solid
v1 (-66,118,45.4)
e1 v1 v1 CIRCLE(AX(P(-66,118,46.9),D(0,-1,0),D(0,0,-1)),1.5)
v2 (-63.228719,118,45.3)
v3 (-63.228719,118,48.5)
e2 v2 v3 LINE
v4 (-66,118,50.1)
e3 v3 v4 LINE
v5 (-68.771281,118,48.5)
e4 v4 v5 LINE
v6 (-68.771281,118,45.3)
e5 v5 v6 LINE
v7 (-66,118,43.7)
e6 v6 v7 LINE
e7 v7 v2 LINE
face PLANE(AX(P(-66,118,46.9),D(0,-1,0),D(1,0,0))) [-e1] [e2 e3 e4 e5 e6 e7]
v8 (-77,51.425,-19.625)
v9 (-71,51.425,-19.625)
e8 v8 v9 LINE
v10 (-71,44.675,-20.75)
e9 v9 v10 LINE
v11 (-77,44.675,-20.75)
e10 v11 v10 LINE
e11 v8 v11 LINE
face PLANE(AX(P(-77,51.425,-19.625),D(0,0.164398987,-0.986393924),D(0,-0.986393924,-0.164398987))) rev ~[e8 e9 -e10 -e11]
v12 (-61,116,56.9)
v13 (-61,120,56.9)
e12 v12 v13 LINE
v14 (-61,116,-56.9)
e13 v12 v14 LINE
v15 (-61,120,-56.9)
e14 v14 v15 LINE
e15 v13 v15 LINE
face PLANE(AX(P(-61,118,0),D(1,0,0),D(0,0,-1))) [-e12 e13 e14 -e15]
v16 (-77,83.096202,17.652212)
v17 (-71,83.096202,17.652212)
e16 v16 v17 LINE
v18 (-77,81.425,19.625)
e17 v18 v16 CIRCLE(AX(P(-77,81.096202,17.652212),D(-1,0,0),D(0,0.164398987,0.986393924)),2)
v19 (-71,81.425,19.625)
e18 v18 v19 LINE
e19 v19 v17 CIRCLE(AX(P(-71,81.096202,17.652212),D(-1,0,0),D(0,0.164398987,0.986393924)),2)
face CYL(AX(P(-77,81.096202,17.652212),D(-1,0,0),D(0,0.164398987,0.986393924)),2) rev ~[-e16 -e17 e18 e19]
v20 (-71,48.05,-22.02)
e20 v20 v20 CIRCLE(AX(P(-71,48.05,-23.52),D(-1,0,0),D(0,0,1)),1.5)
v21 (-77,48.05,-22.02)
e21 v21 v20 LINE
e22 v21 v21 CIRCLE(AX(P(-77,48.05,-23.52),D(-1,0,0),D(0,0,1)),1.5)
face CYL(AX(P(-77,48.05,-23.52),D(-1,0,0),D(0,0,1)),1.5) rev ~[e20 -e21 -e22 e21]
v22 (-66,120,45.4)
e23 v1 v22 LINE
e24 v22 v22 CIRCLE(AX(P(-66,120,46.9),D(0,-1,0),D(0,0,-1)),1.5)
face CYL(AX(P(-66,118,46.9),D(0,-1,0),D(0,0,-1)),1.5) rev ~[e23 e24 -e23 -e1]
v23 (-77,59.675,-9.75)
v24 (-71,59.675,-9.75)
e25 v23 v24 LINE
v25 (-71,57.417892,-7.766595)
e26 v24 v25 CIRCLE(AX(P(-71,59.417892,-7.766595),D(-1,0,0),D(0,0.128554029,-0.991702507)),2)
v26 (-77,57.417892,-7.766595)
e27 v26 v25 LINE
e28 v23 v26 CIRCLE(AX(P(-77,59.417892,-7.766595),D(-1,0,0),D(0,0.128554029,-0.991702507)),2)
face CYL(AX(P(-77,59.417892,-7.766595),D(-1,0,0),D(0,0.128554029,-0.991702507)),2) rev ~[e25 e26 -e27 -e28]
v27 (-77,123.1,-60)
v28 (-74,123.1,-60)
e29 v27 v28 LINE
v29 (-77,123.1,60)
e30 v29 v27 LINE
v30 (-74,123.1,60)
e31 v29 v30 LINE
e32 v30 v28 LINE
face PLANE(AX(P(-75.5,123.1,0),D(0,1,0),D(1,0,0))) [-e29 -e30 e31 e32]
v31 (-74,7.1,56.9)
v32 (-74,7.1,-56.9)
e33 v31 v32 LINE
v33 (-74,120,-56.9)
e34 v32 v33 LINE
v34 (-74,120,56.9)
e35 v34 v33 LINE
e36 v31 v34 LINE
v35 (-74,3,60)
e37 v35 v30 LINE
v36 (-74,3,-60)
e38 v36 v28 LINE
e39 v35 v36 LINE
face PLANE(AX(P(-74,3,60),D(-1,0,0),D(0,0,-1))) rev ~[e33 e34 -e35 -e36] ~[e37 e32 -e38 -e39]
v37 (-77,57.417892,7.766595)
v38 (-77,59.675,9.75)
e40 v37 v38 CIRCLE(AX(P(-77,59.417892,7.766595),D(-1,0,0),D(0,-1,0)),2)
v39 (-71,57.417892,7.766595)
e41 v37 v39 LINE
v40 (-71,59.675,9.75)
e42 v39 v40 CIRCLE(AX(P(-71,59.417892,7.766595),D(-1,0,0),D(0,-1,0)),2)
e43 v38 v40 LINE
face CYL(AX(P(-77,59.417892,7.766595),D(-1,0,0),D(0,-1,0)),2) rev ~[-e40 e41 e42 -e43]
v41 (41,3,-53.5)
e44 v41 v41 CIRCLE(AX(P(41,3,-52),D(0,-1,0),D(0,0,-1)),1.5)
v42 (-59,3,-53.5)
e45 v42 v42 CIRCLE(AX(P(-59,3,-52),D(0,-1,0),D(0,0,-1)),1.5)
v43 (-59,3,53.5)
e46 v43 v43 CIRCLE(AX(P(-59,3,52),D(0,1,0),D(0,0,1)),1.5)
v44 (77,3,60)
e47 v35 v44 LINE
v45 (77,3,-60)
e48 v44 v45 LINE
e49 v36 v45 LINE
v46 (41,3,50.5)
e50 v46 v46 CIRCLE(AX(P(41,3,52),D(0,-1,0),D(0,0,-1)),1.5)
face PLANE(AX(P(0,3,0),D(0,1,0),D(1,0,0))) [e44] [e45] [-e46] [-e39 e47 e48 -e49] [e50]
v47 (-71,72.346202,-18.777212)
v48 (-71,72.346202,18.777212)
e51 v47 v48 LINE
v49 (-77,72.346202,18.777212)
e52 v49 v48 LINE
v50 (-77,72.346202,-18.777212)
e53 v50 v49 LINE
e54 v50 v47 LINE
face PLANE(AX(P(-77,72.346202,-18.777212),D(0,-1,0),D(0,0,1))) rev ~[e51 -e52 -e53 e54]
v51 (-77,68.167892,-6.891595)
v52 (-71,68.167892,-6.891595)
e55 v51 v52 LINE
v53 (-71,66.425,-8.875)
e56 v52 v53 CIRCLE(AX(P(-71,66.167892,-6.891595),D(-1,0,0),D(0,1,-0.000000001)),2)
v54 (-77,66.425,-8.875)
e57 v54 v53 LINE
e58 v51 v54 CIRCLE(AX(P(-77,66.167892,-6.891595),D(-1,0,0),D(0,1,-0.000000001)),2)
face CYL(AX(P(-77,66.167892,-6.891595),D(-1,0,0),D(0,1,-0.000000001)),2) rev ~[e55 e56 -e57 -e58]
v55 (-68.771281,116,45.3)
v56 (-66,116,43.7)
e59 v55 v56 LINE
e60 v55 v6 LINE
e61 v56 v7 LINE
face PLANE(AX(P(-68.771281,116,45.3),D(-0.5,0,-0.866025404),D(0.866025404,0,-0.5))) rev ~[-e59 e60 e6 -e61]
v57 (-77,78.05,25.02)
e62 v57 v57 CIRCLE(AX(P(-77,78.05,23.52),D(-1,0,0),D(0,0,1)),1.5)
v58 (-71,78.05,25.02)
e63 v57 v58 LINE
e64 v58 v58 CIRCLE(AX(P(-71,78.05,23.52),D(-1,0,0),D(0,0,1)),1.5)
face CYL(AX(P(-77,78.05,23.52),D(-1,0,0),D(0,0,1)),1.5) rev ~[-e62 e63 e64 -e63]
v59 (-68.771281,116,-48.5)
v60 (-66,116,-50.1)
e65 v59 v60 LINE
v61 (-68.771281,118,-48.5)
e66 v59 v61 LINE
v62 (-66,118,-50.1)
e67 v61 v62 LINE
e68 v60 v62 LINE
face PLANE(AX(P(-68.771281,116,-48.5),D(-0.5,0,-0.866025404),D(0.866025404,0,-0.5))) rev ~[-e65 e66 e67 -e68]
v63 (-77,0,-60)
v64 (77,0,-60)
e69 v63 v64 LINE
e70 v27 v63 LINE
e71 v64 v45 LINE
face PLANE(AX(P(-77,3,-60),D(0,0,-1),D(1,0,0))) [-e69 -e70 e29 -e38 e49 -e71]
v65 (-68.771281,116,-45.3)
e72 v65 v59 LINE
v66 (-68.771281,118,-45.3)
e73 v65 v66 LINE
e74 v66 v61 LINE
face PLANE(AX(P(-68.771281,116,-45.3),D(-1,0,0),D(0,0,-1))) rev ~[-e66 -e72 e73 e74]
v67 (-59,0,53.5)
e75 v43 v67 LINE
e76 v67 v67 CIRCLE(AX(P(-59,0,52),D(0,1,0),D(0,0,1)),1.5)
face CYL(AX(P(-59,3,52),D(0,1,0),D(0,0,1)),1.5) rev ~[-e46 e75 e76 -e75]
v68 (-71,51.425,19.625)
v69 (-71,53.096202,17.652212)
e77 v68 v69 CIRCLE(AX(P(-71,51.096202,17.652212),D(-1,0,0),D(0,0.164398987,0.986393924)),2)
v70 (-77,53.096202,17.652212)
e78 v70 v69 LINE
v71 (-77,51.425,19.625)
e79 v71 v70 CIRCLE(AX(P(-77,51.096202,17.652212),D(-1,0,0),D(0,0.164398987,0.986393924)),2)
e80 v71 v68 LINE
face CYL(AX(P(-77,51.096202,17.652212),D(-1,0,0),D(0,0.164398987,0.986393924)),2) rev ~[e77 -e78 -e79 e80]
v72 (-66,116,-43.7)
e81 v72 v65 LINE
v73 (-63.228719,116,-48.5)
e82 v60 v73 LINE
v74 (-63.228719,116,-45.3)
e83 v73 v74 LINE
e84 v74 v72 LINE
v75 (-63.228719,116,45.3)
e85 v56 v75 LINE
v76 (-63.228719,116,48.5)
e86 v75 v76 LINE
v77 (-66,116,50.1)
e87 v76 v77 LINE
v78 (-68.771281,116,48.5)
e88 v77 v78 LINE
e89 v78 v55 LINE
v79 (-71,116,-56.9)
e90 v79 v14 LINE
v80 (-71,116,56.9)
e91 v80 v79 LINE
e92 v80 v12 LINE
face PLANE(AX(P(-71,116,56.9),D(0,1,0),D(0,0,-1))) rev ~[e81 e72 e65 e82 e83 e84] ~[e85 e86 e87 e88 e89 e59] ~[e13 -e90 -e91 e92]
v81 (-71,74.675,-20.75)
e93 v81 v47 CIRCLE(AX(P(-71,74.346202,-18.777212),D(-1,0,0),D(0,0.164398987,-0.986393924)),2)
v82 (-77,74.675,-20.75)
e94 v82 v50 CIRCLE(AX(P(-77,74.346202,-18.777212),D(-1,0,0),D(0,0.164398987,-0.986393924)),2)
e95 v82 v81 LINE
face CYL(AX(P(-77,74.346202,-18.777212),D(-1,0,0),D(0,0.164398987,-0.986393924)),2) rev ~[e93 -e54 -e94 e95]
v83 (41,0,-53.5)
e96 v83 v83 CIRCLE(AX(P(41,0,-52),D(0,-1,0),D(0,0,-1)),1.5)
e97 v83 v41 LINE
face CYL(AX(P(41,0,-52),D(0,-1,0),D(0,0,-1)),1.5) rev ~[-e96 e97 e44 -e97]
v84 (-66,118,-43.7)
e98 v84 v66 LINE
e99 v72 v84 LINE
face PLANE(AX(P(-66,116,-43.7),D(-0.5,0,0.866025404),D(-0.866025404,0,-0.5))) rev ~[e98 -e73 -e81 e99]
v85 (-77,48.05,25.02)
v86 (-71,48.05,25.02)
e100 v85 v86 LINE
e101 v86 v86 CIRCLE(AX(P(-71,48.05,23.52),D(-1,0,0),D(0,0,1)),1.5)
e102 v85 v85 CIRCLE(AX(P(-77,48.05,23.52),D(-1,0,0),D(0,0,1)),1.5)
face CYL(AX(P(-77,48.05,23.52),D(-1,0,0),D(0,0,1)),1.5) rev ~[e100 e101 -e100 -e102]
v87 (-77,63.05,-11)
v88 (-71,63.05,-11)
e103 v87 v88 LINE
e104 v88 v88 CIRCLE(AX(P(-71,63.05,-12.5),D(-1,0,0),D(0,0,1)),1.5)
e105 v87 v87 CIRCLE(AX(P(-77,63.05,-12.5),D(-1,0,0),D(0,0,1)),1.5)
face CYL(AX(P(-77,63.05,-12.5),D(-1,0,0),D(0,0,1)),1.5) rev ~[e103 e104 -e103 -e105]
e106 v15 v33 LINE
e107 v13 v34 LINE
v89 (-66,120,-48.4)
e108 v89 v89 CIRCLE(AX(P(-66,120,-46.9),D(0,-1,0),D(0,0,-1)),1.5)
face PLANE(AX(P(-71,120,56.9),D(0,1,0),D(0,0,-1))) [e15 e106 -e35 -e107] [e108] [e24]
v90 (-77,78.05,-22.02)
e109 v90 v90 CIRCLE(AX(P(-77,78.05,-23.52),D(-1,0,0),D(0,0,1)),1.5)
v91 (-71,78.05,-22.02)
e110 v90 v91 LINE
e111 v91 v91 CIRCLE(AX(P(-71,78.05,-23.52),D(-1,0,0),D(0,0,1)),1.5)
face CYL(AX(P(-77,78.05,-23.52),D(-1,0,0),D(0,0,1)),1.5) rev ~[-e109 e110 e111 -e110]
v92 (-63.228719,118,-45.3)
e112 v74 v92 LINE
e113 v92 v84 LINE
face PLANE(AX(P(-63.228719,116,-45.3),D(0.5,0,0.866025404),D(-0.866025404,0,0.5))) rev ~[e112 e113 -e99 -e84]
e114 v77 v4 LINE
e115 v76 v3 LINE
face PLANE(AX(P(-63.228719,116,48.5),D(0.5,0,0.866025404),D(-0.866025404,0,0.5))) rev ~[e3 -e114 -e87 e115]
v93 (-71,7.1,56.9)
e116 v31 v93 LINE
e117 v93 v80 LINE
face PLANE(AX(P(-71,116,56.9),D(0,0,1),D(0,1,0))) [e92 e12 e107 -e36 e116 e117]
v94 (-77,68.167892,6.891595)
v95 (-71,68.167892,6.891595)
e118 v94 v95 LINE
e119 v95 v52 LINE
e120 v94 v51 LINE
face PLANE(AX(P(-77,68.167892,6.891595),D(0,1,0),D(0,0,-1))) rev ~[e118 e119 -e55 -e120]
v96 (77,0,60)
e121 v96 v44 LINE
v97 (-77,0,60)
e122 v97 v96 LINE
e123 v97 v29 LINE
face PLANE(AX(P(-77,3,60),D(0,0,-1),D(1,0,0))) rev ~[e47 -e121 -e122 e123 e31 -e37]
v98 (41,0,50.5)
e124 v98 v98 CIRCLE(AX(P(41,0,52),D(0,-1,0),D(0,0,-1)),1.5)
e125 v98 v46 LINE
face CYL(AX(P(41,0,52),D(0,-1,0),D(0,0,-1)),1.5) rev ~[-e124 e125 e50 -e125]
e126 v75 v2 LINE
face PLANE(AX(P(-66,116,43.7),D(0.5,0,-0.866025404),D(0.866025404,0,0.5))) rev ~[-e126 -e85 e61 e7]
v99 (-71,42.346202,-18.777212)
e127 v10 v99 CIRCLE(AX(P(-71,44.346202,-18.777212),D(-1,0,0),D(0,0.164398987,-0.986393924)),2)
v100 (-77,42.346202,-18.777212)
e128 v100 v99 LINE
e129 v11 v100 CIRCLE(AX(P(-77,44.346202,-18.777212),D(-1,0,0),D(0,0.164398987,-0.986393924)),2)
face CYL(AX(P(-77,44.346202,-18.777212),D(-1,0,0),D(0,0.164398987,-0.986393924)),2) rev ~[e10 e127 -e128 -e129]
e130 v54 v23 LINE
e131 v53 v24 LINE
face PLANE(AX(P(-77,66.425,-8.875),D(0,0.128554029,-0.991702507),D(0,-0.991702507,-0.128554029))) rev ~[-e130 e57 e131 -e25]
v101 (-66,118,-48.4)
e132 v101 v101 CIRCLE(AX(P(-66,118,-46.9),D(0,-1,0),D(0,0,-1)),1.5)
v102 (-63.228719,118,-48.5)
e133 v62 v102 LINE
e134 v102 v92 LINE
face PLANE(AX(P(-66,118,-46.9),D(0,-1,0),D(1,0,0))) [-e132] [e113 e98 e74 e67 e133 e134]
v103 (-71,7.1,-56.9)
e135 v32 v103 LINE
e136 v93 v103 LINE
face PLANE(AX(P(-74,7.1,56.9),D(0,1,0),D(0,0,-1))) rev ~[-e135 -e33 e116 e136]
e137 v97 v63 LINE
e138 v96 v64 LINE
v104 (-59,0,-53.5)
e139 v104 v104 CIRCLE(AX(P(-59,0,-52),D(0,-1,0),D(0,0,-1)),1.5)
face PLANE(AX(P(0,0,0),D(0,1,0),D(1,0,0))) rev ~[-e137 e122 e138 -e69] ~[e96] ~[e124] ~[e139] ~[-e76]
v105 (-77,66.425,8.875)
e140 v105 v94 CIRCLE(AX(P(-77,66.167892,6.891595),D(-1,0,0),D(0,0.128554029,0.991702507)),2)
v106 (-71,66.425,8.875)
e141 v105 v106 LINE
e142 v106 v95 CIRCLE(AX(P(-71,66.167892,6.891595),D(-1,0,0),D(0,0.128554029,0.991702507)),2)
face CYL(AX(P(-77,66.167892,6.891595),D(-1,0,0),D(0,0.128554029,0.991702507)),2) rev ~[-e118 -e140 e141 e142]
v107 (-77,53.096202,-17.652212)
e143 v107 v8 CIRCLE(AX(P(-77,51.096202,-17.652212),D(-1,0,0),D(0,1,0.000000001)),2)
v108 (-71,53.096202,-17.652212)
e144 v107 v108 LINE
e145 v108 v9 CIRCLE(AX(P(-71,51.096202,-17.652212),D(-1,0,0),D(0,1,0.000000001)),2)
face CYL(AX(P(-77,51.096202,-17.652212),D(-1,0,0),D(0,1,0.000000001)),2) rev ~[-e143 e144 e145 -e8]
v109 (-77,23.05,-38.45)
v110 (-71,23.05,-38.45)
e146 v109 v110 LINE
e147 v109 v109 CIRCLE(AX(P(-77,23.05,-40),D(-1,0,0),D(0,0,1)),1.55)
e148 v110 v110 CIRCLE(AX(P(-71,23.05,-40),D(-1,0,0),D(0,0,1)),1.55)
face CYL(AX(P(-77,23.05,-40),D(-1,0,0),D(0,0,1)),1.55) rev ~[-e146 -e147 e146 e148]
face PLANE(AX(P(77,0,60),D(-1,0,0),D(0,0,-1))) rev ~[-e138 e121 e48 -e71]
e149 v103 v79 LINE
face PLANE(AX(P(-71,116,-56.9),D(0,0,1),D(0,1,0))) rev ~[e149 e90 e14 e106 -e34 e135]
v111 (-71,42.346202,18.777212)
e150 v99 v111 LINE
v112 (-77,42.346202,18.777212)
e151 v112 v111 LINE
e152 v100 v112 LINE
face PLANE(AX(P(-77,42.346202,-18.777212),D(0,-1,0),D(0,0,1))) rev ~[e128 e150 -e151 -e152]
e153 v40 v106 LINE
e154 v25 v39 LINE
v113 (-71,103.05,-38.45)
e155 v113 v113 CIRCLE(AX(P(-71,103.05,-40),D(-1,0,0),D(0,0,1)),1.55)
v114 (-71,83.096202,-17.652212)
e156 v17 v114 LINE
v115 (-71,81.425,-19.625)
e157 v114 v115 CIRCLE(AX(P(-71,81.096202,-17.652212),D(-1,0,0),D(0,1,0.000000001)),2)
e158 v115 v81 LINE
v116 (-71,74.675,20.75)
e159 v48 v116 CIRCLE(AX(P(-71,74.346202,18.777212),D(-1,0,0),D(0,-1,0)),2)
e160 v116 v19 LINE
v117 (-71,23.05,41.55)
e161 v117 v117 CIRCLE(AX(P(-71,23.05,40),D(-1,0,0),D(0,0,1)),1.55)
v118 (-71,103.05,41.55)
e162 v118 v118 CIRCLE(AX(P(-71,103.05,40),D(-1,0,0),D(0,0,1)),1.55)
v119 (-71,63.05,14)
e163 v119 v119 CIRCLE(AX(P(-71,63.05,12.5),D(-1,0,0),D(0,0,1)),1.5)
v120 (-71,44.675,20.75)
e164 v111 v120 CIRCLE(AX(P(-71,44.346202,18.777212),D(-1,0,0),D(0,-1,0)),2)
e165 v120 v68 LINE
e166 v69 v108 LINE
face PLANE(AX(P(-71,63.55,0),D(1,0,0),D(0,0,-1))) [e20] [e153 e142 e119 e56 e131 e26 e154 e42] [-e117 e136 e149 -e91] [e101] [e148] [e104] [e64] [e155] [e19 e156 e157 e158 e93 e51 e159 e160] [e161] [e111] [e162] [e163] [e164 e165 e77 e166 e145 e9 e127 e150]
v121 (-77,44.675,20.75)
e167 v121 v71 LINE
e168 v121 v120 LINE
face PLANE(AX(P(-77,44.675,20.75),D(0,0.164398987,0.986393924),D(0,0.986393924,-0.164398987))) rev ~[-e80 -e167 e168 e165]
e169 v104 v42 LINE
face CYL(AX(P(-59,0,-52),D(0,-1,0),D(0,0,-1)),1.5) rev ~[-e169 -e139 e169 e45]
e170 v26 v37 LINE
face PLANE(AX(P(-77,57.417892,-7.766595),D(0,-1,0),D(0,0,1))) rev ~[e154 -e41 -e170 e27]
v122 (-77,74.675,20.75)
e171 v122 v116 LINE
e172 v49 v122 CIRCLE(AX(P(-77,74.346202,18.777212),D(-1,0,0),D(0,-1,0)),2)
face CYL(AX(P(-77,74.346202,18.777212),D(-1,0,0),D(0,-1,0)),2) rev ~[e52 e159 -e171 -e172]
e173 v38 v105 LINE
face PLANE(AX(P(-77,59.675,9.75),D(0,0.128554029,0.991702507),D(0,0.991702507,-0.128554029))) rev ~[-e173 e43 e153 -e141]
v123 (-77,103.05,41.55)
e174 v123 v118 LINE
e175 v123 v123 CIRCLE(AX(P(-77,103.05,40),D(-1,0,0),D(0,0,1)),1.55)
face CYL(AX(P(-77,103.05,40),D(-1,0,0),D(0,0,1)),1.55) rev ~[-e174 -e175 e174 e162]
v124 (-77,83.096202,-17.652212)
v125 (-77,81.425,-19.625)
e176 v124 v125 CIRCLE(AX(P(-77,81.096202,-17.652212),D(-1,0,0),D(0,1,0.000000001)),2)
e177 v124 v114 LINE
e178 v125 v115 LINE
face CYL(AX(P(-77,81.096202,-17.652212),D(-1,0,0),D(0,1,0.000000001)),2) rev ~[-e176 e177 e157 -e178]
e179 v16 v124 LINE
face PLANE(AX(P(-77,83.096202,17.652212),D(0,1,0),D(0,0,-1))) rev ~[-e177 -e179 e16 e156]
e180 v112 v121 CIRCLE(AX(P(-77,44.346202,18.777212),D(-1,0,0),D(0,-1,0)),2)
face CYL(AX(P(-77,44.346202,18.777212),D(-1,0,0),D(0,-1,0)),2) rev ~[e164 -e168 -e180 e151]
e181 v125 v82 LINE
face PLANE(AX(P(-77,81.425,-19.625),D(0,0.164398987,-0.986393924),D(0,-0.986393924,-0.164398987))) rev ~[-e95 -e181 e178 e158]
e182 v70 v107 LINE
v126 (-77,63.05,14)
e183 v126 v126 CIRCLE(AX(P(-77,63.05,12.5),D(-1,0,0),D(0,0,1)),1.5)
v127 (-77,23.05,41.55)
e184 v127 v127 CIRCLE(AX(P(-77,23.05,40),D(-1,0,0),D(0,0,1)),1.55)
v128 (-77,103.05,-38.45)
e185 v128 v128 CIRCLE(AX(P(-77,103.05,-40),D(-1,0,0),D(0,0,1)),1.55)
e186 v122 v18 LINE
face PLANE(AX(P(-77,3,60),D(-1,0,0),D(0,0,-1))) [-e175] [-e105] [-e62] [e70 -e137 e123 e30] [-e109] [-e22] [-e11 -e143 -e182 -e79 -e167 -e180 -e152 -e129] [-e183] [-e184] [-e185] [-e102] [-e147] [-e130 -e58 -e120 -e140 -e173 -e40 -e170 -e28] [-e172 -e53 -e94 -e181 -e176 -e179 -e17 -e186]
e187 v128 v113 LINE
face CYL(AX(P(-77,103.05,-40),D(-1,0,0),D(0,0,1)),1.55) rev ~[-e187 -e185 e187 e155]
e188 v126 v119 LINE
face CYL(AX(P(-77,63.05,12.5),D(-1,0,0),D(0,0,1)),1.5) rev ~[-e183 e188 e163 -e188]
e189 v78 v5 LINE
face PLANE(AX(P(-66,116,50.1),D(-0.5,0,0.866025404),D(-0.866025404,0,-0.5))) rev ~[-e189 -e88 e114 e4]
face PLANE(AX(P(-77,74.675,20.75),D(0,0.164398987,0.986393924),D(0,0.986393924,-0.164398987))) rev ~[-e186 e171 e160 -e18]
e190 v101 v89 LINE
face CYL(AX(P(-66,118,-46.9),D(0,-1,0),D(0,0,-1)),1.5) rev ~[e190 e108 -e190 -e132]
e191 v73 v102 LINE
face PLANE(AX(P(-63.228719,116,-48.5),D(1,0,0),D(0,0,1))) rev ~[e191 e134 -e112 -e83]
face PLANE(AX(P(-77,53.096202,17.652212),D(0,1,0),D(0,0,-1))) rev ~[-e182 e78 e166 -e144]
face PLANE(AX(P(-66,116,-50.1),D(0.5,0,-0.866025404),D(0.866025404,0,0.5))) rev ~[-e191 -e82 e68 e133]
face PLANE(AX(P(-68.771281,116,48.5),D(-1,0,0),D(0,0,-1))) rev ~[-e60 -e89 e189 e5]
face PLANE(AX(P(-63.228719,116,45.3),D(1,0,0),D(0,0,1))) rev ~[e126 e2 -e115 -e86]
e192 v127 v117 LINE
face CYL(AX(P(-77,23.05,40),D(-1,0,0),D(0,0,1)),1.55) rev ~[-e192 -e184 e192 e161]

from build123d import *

# Parameters (mm, degrees)
SKETCH1_W              = 154
SKETCH1_H              = 120
LARGE_WALL_OUTER_DEPTH = 3
SKETCH8_W              = 3
SKETCH8_H              = 120
SMALL_WALL_OUTER_DEPTH = 120.1
SKETCH10_W             = 113.8
SKETCH10_H             = 112.9
SMALL_WALL_INNER_DEPTH = 3
SKETCH14_W             = 113.8
SKETCH14_H             = 4
MOUNT_DEPTH            = 10
MOUNTING_NUTS_DEPTH    = 2
NUT_1_BOLT_HOLE_REACH  = 155.144
SKETCH18_R             = 1.5
NUT_2_BOLT_HOLE_REACH  = 155.144
SKETCH19_R             = 1.5
CONNECTOR_SLOTS_REACH  = 208.082
SKETCH23_R             = 1.5
SKETCH27_R             = 1.55
SKETCH27_R_2           = 1.5
PCB_MOUNT_HOLES_DEPTH  = 6
SKETCH28_R             = 1.5
BOLT_HOLE1_DEPTH       = 10
SKETCH29_R             = 1.5
BOLT_HOLE2_DEPTH       = 10
SKETCH30_R             = 1.5
BOLT_HOLES34_DEPTH     = 10


with BuildPart() as part:
    # Sketch1 → Large-Wall-Outer (new body)
    with BuildSketch(Plane(origin=(0, 0, 0), x_dir=(1, 0, 0), z_dir=(0, 1, 0))):
        Rectangle(SKETCH1_W, SKETCH1_H)
    extrude(amount=LARGE_WALL_OUTER_DEPTH)

    # Sketch8 → Small-Wall-Outer (add)
    with BuildSketch(Plane(origin=(0, 3, 0), x_dir=(1, 0, 0), z_dir=(0, 1, 0))):
        with Locations((-75.5, 0)):
            Rectangle(SKETCH8_W, SKETCH8_H)
    extrude(amount=SMALL_WALL_OUTER_DEPTH)

    # Sketch10 → Small-Wall-Inner (add)
    with BuildSketch(Plane(origin=(-74, 0, 0), x_dir=(0, 0, -1), z_dir=(1, 0, 0))):
        with Locations((0, 63.55)):
            Rectangle(SKETCH10_W, SKETCH10_H)
    extrude(amount=SMALL_WALL_INNER_DEPTH)

    # Sketch14 → Mount (add)
    with BuildSketch(Plane(origin=(-71, 0, 0), x_dir=(0, 0, -1), z_dir=(1, 0, 0))):
        with Locations((0, 118)):
            Rectangle(SKETCH14_W, SKETCH14_H)
    extrude(amount=MOUNT_DEPTH)

    # Sketch17 → Mounting-Nuts (cut)
    with BuildSketch(Plane.XZ.offset(-116)):
        Polygon((-66, 43.7), (-63.228718708, 45.3), (-63.228718708, 48.5), (-66, 50.1), (-68.771281292, 48.5), (-68.771281292, 45.3), align=None)
        Polygon((-66, -50.1), (-63.228718708, -48.5), (-63.228718708, -45.3), (-66, -43.7), (-68.771281292, -45.3), (-68.771281292, -48.5), align=None)
    extrude(amount=-MOUNTING_NUTS_DEPTH, mode=Mode.SUBTRACT)

    # Sketch18 → Nut-1-Bolt-Hole (cut, up to next)
    with BuildSketch(Plane.XZ.offset(-118), mode=Mode.PRIVATE) as nut_1_bolt_hole_sk1:
        with Locations(Location((-66, 46.9, 0), (0, 0, 270))):
            Circle(SKETCH18_R)
    nut_1_bolt_hole_tool1 = extrude(nut_1_bolt_hole_sk1.sketch, amount=-NUT_1_BOLT_HOLE_REACH, mode=Mode.PRIVATE) & part.part
    add(nut_1_bolt_hole_tool1.solids().sort_by_distance((-66, 118, 46.9))[0], mode=Mode.SUBTRACT)

    # Sketch19 → Nut-2-Bolt-Hole (cut, up to next)
    with BuildSketch(Plane.XZ.offset(-118), mode=Mode.PRIVATE) as nut_2_bolt_hole_sk1:
        with Locations(Location((-66, -46.9, 0), (0, 0, 270))):
            Circle(SKETCH19_R)
    nut_2_bolt_hole_tool1 = extrude(nut_2_bolt_hole_sk1.sketch, amount=-NUT_2_BOLT_HOLE_REACH, mode=Mode.PRIVATE) & part.part
    add(nut_2_bolt_hole_tool1.solids().sort_by_distance((-66, 118, -46.9))[0], mode=Mode.SUBTRACT)

    # Sketch23 → Connector-Slots (cut, up to next)
    with BuildSketch(Plane(origin=(-77, 0, 0), x_dir=(0, 0, -1), z_dir=(-1, 0, 0)), mode=Mode.PRIVATE) as connector_slots_sk1:
        with Locations(Location((-12.5, -63.05, 0), (0, 0, 180))):
            Circle(SKETCH23_R)
    connector_slots_tool1 = extrude(connector_slots_sk1.sketch, amount=-CONNECTOR_SLOTS_REACH, mode=Mode.PRIVATE) & part.part
    # Sketch23 → Connector-Slots (cut, up to next)
    with BuildSketch(Plane(origin=(-77, 0, 0), x_dir=(0, 0, -1), z_dir=(-1, 0, 0)), mode=Mode.PRIVATE) as connector_slots_sk2:
        with Locations(Location((12.5, -63.05, 0), (0, 0, 180))):
            Circle(SKETCH23_R)
    connector_slots_tool2 = extrude(connector_slots_sk2.sketch, amount=-CONNECTOR_SLOTS_REACH, mode=Mode.PRIVATE) & part.part
    # Sketch23 → Connector-Slots (cut, up to next)
    with BuildSketch(Plane(origin=(-77, 0, 0), x_dir=(0, 0, -1), z_dir=(-1, 0, 0)), mode=Mode.PRIVATE) as connector_slots_sk3:
        with Locations(Location((-23.52, -78.05, 0), (0, 0, 180))):
            Circle(SKETCH23_R)
    connector_slots_tool3 = extrude(connector_slots_sk3.sketch, amount=-CONNECTOR_SLOTS_REACH, mode=Mode.PRIVATE) & part.part
    # Sketch23 → Connector-Slots (cut, up to next)
    with BuildSketch(Plane(origin=(-77, 0, 0), x_dir=(0, 0, -1), z_dir=(-1, 0, 0)), mode=Mode.PRIVATE) as connector_slots_sk4:
        with Locations(Location((23.52, -78.05, 0), (0, 0, 180))):
            Circle(SKETCH23_R)
    connector_slots_tool4 = extrude(connector_slots_sk4.sketch, amount=-CONNECTOR_SLOTS_REACH, mode=Mode.PRIVATE) & part.part
    # Sketch23 → Connector-Slots (cut, up to next)
    with BuildSketch(Plane(origin=(-77, 0, 0), x_dir=(0, 0, -1), z_dir=(-1, 0, 0)), mode=Mode.PRIVATE) as connector_slots_sk5:
        with Locations(Location((-23.52, -48.05, 0), (0, 0, 180))):
            Circle(SKETCH23_R)
    connector_slots_tool5 = extrude(connector_slots_sk5.sketch, amount=-CONNECTOR_SLOTS_REACH, mode=Mode.PRIVATE) & part.part
    # Sketch23 → Connector-Slots (cut, up to next)
    with BuildSketch(Plane(origin=(-77, 0, 0), x_dir=(0, 0, -1), z_dir=(-1, 0, 0)), mode=Mode.PRIVATE) as connector_slots_sk6:
        with Locations(Location((23.52, -48.05, 0), (0, 0, 180))):
            Circle(SKETCH23_R)
    connector_slots_tool6 = extrude(connector_slots_sk6.sketch, amount=-CONNECTOR_SLOTS_REACH, mode=Mode.PRIVATE) & part.part
    # Sketch23 → Connector-Slots (cut, up to next)
    with BuildSketch(Plane(origin=(-77, 0, 0), x_dir=(0, 0, -1), z_dir=(-1, 0, 0)), mode=Mode.PRIVATE) as connector_slots_sk7:
        with BuildLine():
            Line((-6.891594987, -68.167891943), (6.891594987, -68.167891943))
            ThreePointArc((6.891594987, -68.167891943), (8.211781315, -67.670259427), (8.875, -66.425))
            Line((8.875, -66.425), (9.75, -59.675))
            ThreePointArc((9.75, -59.675), (9.268962471, -58.097705614), (7.766594987, -57.417891943))
            Line((7.766594987, -57.417891943), (-7.766594987, -57.417891943))
            ThreePointArc((-7.766594987, -57.417891943), (-9.268962471, -58.097705614), (-9.75, -59.675))
            Line((-9.75, -59.675), (-8.875, -66.425))
            ThreePointArc((-8.875, -66.425), (-8.211781315, -67.670259427), (-6.891594987, -68.167891943))
        make_face()
    connector_slots_tool7 = extrude(connector_slots_sk7.sketch, amount=-CONNECTOR_SLOTS_REACH, mode=Mode.PRIVATE) & part.part
    # Sketch23 → Connector-Slots (cut, up to next)
    with BuildSketch(Plane(origin=(-77, 0, 0), x_dir=(0, 0, -1), z_dir=(-1, 0, 0)), mode=Mode.PRIVATE) as connector_slots_sk8:
        with BuildLine():
            Line((-17.652212152, -83.096202025), (17.652212152, -83.096202025))
            ThreePointArc((17.652212152, -83.096202025), (18.944961945, -82.62224199), (19.625, -81.425))
            Line((19.625, -81.425), (20.75, -74.675))
            ThreePointArc((20.75, -74.675), (20.303252117, -73.053452233), (18.777212152, -72.346202025))
            Line((18.777212152, -72.346202025), (-18.777212152, -72.346202025))
            ThreePointArc((-18.777212152, -72.346202025), (-20.303252117, -73.053452233), (-20.75, -74.675))
            Line((-20.75, -74.675), (-19.625, -81.425))
            ThreePointArc((-19.625, -81.425), (-18.944961945, -82.62224199), (-17.652212152, -83.096202025))
        make_face()
    connector_slots_tool8 = extrude(connector_slots_sk8.sketch, amount=-CONNECTOR_SLOTS_REACH, mode=Mode.PRIVATE) & part.part
    # Sketch23 → Connector-Slots (cut, up to next)
    with BuildSketch(Plane(origin=(-77, 0, 0), x_dir=(0, 0, -1), z_dir=(-1, 0, 0)), mode=Mode.PRIVATE) as connector_slots_sk9:
        with BuildLine():
            Line((-17.652212152, -53.096202025), (17.652212152, -53.096202025))
            ThreePointArc((17.652212152, -53.096202025), (18.944961945, -52.62224199), (19.625, -51.425))
            Line((19.625, -51.425), (20.75, -44.675))
            ThreePointArc((20.75, -44.675), (20.303252117, -43.053452233), (18.777212152, -42.346202025))
            Line((18.777212152, -42.346202025), (-18.777212152, -42.346202025))
            ThreePointArc((-18.777212152, -42.346202025), (-20.303252117, -43.053452233), (-20.75, -44.675))
            Line((-20.75, -44.675), (-19.625, -51.425))
            ThreePointArc((-19.625, -51.425), (-18.944961945, -52.62224199), (-17.652212152, -53.096202025))
        make_face()
    connector_slots_tool9 = extrude(connector_slots_sk9.sketch, amount=-CONNECTOR_SLOTS_REACH, mode=Mode.PRIVATE) & part.part
    add(connector_slots_tool1.solids().sort_by_distance((-77, 63.05, 12.5))[0], mode=Mode.SUBTRACT)
    add(connector_slots_tool2.solids().sort_by_distance((-77, 63.05, -12.5))[0], mode=Mode.SUBTRACT)
    add(connector_slots_tool3.solids().sort_by_distance((-77, 78.05, 23.52))[0], mode=Mode.SUBTRACT)
    add(connector_slots_tool4.solids().sort_by_distance((-77, 78.05, -23.52))[0], mode=Mode.SUBTRACT)
    add(connector_slots_tool5.solids().sort_by_distance((-77, 48.05, 23.52))[0], mode=Mode.SUBTRACT)
    add(connector_slots_tool6.solids().sort_by_distance((-77, 48.05, -23.52))[0], mode=Mode.SUBTRACT)
    add(connector_slots_tool7.solids().sort_by_distance((-77, 62.681741, 0))[0], mode=Mode.SUBTRACT)
    add(connector_slots_tool8.solids().sort_by_distance((-77, 77.655881, 0))[0], mode=Mode.SUBTRACT)
    add(connector_slots_tool9.solids().sort_by_distance((-77, 47.655881, 0))[0], mode=Mode.SUBTRACT)

    # Sketch27 → PCB-Mount-Holes (cut)
    with BuildSketch(Plane.ZY.offset(77)):
        with Locations((-40, 23.05)):
            Circle(SKETCH27_R)
        with Locations((12.5, 63.05)):
            Circle(SKETCH27_R_2)
        with Locations((-12.5, 63.05)):
            Circle(SKETCH27_R_2)
        with Locations((40, 23.05)):
            Circle(SKETCH27_R)
        with Locations((40, 103.05)):
            Circle(SKETCH27_R)
        with Locations((-40, 103.05)):
            Circle(SKETCH27_R)
    extrude(amount=-PCB_MOUNT_HOLES_DEPTH, mode=Mode.SUBTRACT)

    # Sketch28 → bolt-hole1 (cut)
    with BuildSketch(Plane(origin=(0, 3, 0), x_dir=(1, 0, 0), z_dir=(0, 1, 0))):
        with Locations(Location((-59, -52, 0), (0, 0, 270))):
            Circle(SKETCH28_R)
    extrude(amount=-BOLT_HOLE1_DEPTH, mode=Mode.SUBTRACT)

    # Sketch29 → bolt-hole2 (cut)
    with BuildSketch(Plane(origin=(0, 0, 0), x_dir=(-1, 0, 0), z_dir=(0, -1, 0))):
        with Locations(Location((-41, -52, 0), (0, 0, 90))):
            Circle(SKETCH29_R)
    extrude(amount=-BOLT_HOLE2_DEPTH, mode=Mode.SUBTRACT)

    # Sketch30 → bolt-holes34 (cut)
    with BuildSketch(Plane.XZ):
        with Locations(Location((-59, -52, 0), (0, 0, 270))):
            Circle(SKETCH30_R)
        with Locations(Location((41, -52, 0), (0, 0, 270))):
            Circle(SKETCH30_R)
    extrude(amount=-BOLT_HOLES34_DEPTH, mode=Mode.SUBTRACT)


solid = part.part
